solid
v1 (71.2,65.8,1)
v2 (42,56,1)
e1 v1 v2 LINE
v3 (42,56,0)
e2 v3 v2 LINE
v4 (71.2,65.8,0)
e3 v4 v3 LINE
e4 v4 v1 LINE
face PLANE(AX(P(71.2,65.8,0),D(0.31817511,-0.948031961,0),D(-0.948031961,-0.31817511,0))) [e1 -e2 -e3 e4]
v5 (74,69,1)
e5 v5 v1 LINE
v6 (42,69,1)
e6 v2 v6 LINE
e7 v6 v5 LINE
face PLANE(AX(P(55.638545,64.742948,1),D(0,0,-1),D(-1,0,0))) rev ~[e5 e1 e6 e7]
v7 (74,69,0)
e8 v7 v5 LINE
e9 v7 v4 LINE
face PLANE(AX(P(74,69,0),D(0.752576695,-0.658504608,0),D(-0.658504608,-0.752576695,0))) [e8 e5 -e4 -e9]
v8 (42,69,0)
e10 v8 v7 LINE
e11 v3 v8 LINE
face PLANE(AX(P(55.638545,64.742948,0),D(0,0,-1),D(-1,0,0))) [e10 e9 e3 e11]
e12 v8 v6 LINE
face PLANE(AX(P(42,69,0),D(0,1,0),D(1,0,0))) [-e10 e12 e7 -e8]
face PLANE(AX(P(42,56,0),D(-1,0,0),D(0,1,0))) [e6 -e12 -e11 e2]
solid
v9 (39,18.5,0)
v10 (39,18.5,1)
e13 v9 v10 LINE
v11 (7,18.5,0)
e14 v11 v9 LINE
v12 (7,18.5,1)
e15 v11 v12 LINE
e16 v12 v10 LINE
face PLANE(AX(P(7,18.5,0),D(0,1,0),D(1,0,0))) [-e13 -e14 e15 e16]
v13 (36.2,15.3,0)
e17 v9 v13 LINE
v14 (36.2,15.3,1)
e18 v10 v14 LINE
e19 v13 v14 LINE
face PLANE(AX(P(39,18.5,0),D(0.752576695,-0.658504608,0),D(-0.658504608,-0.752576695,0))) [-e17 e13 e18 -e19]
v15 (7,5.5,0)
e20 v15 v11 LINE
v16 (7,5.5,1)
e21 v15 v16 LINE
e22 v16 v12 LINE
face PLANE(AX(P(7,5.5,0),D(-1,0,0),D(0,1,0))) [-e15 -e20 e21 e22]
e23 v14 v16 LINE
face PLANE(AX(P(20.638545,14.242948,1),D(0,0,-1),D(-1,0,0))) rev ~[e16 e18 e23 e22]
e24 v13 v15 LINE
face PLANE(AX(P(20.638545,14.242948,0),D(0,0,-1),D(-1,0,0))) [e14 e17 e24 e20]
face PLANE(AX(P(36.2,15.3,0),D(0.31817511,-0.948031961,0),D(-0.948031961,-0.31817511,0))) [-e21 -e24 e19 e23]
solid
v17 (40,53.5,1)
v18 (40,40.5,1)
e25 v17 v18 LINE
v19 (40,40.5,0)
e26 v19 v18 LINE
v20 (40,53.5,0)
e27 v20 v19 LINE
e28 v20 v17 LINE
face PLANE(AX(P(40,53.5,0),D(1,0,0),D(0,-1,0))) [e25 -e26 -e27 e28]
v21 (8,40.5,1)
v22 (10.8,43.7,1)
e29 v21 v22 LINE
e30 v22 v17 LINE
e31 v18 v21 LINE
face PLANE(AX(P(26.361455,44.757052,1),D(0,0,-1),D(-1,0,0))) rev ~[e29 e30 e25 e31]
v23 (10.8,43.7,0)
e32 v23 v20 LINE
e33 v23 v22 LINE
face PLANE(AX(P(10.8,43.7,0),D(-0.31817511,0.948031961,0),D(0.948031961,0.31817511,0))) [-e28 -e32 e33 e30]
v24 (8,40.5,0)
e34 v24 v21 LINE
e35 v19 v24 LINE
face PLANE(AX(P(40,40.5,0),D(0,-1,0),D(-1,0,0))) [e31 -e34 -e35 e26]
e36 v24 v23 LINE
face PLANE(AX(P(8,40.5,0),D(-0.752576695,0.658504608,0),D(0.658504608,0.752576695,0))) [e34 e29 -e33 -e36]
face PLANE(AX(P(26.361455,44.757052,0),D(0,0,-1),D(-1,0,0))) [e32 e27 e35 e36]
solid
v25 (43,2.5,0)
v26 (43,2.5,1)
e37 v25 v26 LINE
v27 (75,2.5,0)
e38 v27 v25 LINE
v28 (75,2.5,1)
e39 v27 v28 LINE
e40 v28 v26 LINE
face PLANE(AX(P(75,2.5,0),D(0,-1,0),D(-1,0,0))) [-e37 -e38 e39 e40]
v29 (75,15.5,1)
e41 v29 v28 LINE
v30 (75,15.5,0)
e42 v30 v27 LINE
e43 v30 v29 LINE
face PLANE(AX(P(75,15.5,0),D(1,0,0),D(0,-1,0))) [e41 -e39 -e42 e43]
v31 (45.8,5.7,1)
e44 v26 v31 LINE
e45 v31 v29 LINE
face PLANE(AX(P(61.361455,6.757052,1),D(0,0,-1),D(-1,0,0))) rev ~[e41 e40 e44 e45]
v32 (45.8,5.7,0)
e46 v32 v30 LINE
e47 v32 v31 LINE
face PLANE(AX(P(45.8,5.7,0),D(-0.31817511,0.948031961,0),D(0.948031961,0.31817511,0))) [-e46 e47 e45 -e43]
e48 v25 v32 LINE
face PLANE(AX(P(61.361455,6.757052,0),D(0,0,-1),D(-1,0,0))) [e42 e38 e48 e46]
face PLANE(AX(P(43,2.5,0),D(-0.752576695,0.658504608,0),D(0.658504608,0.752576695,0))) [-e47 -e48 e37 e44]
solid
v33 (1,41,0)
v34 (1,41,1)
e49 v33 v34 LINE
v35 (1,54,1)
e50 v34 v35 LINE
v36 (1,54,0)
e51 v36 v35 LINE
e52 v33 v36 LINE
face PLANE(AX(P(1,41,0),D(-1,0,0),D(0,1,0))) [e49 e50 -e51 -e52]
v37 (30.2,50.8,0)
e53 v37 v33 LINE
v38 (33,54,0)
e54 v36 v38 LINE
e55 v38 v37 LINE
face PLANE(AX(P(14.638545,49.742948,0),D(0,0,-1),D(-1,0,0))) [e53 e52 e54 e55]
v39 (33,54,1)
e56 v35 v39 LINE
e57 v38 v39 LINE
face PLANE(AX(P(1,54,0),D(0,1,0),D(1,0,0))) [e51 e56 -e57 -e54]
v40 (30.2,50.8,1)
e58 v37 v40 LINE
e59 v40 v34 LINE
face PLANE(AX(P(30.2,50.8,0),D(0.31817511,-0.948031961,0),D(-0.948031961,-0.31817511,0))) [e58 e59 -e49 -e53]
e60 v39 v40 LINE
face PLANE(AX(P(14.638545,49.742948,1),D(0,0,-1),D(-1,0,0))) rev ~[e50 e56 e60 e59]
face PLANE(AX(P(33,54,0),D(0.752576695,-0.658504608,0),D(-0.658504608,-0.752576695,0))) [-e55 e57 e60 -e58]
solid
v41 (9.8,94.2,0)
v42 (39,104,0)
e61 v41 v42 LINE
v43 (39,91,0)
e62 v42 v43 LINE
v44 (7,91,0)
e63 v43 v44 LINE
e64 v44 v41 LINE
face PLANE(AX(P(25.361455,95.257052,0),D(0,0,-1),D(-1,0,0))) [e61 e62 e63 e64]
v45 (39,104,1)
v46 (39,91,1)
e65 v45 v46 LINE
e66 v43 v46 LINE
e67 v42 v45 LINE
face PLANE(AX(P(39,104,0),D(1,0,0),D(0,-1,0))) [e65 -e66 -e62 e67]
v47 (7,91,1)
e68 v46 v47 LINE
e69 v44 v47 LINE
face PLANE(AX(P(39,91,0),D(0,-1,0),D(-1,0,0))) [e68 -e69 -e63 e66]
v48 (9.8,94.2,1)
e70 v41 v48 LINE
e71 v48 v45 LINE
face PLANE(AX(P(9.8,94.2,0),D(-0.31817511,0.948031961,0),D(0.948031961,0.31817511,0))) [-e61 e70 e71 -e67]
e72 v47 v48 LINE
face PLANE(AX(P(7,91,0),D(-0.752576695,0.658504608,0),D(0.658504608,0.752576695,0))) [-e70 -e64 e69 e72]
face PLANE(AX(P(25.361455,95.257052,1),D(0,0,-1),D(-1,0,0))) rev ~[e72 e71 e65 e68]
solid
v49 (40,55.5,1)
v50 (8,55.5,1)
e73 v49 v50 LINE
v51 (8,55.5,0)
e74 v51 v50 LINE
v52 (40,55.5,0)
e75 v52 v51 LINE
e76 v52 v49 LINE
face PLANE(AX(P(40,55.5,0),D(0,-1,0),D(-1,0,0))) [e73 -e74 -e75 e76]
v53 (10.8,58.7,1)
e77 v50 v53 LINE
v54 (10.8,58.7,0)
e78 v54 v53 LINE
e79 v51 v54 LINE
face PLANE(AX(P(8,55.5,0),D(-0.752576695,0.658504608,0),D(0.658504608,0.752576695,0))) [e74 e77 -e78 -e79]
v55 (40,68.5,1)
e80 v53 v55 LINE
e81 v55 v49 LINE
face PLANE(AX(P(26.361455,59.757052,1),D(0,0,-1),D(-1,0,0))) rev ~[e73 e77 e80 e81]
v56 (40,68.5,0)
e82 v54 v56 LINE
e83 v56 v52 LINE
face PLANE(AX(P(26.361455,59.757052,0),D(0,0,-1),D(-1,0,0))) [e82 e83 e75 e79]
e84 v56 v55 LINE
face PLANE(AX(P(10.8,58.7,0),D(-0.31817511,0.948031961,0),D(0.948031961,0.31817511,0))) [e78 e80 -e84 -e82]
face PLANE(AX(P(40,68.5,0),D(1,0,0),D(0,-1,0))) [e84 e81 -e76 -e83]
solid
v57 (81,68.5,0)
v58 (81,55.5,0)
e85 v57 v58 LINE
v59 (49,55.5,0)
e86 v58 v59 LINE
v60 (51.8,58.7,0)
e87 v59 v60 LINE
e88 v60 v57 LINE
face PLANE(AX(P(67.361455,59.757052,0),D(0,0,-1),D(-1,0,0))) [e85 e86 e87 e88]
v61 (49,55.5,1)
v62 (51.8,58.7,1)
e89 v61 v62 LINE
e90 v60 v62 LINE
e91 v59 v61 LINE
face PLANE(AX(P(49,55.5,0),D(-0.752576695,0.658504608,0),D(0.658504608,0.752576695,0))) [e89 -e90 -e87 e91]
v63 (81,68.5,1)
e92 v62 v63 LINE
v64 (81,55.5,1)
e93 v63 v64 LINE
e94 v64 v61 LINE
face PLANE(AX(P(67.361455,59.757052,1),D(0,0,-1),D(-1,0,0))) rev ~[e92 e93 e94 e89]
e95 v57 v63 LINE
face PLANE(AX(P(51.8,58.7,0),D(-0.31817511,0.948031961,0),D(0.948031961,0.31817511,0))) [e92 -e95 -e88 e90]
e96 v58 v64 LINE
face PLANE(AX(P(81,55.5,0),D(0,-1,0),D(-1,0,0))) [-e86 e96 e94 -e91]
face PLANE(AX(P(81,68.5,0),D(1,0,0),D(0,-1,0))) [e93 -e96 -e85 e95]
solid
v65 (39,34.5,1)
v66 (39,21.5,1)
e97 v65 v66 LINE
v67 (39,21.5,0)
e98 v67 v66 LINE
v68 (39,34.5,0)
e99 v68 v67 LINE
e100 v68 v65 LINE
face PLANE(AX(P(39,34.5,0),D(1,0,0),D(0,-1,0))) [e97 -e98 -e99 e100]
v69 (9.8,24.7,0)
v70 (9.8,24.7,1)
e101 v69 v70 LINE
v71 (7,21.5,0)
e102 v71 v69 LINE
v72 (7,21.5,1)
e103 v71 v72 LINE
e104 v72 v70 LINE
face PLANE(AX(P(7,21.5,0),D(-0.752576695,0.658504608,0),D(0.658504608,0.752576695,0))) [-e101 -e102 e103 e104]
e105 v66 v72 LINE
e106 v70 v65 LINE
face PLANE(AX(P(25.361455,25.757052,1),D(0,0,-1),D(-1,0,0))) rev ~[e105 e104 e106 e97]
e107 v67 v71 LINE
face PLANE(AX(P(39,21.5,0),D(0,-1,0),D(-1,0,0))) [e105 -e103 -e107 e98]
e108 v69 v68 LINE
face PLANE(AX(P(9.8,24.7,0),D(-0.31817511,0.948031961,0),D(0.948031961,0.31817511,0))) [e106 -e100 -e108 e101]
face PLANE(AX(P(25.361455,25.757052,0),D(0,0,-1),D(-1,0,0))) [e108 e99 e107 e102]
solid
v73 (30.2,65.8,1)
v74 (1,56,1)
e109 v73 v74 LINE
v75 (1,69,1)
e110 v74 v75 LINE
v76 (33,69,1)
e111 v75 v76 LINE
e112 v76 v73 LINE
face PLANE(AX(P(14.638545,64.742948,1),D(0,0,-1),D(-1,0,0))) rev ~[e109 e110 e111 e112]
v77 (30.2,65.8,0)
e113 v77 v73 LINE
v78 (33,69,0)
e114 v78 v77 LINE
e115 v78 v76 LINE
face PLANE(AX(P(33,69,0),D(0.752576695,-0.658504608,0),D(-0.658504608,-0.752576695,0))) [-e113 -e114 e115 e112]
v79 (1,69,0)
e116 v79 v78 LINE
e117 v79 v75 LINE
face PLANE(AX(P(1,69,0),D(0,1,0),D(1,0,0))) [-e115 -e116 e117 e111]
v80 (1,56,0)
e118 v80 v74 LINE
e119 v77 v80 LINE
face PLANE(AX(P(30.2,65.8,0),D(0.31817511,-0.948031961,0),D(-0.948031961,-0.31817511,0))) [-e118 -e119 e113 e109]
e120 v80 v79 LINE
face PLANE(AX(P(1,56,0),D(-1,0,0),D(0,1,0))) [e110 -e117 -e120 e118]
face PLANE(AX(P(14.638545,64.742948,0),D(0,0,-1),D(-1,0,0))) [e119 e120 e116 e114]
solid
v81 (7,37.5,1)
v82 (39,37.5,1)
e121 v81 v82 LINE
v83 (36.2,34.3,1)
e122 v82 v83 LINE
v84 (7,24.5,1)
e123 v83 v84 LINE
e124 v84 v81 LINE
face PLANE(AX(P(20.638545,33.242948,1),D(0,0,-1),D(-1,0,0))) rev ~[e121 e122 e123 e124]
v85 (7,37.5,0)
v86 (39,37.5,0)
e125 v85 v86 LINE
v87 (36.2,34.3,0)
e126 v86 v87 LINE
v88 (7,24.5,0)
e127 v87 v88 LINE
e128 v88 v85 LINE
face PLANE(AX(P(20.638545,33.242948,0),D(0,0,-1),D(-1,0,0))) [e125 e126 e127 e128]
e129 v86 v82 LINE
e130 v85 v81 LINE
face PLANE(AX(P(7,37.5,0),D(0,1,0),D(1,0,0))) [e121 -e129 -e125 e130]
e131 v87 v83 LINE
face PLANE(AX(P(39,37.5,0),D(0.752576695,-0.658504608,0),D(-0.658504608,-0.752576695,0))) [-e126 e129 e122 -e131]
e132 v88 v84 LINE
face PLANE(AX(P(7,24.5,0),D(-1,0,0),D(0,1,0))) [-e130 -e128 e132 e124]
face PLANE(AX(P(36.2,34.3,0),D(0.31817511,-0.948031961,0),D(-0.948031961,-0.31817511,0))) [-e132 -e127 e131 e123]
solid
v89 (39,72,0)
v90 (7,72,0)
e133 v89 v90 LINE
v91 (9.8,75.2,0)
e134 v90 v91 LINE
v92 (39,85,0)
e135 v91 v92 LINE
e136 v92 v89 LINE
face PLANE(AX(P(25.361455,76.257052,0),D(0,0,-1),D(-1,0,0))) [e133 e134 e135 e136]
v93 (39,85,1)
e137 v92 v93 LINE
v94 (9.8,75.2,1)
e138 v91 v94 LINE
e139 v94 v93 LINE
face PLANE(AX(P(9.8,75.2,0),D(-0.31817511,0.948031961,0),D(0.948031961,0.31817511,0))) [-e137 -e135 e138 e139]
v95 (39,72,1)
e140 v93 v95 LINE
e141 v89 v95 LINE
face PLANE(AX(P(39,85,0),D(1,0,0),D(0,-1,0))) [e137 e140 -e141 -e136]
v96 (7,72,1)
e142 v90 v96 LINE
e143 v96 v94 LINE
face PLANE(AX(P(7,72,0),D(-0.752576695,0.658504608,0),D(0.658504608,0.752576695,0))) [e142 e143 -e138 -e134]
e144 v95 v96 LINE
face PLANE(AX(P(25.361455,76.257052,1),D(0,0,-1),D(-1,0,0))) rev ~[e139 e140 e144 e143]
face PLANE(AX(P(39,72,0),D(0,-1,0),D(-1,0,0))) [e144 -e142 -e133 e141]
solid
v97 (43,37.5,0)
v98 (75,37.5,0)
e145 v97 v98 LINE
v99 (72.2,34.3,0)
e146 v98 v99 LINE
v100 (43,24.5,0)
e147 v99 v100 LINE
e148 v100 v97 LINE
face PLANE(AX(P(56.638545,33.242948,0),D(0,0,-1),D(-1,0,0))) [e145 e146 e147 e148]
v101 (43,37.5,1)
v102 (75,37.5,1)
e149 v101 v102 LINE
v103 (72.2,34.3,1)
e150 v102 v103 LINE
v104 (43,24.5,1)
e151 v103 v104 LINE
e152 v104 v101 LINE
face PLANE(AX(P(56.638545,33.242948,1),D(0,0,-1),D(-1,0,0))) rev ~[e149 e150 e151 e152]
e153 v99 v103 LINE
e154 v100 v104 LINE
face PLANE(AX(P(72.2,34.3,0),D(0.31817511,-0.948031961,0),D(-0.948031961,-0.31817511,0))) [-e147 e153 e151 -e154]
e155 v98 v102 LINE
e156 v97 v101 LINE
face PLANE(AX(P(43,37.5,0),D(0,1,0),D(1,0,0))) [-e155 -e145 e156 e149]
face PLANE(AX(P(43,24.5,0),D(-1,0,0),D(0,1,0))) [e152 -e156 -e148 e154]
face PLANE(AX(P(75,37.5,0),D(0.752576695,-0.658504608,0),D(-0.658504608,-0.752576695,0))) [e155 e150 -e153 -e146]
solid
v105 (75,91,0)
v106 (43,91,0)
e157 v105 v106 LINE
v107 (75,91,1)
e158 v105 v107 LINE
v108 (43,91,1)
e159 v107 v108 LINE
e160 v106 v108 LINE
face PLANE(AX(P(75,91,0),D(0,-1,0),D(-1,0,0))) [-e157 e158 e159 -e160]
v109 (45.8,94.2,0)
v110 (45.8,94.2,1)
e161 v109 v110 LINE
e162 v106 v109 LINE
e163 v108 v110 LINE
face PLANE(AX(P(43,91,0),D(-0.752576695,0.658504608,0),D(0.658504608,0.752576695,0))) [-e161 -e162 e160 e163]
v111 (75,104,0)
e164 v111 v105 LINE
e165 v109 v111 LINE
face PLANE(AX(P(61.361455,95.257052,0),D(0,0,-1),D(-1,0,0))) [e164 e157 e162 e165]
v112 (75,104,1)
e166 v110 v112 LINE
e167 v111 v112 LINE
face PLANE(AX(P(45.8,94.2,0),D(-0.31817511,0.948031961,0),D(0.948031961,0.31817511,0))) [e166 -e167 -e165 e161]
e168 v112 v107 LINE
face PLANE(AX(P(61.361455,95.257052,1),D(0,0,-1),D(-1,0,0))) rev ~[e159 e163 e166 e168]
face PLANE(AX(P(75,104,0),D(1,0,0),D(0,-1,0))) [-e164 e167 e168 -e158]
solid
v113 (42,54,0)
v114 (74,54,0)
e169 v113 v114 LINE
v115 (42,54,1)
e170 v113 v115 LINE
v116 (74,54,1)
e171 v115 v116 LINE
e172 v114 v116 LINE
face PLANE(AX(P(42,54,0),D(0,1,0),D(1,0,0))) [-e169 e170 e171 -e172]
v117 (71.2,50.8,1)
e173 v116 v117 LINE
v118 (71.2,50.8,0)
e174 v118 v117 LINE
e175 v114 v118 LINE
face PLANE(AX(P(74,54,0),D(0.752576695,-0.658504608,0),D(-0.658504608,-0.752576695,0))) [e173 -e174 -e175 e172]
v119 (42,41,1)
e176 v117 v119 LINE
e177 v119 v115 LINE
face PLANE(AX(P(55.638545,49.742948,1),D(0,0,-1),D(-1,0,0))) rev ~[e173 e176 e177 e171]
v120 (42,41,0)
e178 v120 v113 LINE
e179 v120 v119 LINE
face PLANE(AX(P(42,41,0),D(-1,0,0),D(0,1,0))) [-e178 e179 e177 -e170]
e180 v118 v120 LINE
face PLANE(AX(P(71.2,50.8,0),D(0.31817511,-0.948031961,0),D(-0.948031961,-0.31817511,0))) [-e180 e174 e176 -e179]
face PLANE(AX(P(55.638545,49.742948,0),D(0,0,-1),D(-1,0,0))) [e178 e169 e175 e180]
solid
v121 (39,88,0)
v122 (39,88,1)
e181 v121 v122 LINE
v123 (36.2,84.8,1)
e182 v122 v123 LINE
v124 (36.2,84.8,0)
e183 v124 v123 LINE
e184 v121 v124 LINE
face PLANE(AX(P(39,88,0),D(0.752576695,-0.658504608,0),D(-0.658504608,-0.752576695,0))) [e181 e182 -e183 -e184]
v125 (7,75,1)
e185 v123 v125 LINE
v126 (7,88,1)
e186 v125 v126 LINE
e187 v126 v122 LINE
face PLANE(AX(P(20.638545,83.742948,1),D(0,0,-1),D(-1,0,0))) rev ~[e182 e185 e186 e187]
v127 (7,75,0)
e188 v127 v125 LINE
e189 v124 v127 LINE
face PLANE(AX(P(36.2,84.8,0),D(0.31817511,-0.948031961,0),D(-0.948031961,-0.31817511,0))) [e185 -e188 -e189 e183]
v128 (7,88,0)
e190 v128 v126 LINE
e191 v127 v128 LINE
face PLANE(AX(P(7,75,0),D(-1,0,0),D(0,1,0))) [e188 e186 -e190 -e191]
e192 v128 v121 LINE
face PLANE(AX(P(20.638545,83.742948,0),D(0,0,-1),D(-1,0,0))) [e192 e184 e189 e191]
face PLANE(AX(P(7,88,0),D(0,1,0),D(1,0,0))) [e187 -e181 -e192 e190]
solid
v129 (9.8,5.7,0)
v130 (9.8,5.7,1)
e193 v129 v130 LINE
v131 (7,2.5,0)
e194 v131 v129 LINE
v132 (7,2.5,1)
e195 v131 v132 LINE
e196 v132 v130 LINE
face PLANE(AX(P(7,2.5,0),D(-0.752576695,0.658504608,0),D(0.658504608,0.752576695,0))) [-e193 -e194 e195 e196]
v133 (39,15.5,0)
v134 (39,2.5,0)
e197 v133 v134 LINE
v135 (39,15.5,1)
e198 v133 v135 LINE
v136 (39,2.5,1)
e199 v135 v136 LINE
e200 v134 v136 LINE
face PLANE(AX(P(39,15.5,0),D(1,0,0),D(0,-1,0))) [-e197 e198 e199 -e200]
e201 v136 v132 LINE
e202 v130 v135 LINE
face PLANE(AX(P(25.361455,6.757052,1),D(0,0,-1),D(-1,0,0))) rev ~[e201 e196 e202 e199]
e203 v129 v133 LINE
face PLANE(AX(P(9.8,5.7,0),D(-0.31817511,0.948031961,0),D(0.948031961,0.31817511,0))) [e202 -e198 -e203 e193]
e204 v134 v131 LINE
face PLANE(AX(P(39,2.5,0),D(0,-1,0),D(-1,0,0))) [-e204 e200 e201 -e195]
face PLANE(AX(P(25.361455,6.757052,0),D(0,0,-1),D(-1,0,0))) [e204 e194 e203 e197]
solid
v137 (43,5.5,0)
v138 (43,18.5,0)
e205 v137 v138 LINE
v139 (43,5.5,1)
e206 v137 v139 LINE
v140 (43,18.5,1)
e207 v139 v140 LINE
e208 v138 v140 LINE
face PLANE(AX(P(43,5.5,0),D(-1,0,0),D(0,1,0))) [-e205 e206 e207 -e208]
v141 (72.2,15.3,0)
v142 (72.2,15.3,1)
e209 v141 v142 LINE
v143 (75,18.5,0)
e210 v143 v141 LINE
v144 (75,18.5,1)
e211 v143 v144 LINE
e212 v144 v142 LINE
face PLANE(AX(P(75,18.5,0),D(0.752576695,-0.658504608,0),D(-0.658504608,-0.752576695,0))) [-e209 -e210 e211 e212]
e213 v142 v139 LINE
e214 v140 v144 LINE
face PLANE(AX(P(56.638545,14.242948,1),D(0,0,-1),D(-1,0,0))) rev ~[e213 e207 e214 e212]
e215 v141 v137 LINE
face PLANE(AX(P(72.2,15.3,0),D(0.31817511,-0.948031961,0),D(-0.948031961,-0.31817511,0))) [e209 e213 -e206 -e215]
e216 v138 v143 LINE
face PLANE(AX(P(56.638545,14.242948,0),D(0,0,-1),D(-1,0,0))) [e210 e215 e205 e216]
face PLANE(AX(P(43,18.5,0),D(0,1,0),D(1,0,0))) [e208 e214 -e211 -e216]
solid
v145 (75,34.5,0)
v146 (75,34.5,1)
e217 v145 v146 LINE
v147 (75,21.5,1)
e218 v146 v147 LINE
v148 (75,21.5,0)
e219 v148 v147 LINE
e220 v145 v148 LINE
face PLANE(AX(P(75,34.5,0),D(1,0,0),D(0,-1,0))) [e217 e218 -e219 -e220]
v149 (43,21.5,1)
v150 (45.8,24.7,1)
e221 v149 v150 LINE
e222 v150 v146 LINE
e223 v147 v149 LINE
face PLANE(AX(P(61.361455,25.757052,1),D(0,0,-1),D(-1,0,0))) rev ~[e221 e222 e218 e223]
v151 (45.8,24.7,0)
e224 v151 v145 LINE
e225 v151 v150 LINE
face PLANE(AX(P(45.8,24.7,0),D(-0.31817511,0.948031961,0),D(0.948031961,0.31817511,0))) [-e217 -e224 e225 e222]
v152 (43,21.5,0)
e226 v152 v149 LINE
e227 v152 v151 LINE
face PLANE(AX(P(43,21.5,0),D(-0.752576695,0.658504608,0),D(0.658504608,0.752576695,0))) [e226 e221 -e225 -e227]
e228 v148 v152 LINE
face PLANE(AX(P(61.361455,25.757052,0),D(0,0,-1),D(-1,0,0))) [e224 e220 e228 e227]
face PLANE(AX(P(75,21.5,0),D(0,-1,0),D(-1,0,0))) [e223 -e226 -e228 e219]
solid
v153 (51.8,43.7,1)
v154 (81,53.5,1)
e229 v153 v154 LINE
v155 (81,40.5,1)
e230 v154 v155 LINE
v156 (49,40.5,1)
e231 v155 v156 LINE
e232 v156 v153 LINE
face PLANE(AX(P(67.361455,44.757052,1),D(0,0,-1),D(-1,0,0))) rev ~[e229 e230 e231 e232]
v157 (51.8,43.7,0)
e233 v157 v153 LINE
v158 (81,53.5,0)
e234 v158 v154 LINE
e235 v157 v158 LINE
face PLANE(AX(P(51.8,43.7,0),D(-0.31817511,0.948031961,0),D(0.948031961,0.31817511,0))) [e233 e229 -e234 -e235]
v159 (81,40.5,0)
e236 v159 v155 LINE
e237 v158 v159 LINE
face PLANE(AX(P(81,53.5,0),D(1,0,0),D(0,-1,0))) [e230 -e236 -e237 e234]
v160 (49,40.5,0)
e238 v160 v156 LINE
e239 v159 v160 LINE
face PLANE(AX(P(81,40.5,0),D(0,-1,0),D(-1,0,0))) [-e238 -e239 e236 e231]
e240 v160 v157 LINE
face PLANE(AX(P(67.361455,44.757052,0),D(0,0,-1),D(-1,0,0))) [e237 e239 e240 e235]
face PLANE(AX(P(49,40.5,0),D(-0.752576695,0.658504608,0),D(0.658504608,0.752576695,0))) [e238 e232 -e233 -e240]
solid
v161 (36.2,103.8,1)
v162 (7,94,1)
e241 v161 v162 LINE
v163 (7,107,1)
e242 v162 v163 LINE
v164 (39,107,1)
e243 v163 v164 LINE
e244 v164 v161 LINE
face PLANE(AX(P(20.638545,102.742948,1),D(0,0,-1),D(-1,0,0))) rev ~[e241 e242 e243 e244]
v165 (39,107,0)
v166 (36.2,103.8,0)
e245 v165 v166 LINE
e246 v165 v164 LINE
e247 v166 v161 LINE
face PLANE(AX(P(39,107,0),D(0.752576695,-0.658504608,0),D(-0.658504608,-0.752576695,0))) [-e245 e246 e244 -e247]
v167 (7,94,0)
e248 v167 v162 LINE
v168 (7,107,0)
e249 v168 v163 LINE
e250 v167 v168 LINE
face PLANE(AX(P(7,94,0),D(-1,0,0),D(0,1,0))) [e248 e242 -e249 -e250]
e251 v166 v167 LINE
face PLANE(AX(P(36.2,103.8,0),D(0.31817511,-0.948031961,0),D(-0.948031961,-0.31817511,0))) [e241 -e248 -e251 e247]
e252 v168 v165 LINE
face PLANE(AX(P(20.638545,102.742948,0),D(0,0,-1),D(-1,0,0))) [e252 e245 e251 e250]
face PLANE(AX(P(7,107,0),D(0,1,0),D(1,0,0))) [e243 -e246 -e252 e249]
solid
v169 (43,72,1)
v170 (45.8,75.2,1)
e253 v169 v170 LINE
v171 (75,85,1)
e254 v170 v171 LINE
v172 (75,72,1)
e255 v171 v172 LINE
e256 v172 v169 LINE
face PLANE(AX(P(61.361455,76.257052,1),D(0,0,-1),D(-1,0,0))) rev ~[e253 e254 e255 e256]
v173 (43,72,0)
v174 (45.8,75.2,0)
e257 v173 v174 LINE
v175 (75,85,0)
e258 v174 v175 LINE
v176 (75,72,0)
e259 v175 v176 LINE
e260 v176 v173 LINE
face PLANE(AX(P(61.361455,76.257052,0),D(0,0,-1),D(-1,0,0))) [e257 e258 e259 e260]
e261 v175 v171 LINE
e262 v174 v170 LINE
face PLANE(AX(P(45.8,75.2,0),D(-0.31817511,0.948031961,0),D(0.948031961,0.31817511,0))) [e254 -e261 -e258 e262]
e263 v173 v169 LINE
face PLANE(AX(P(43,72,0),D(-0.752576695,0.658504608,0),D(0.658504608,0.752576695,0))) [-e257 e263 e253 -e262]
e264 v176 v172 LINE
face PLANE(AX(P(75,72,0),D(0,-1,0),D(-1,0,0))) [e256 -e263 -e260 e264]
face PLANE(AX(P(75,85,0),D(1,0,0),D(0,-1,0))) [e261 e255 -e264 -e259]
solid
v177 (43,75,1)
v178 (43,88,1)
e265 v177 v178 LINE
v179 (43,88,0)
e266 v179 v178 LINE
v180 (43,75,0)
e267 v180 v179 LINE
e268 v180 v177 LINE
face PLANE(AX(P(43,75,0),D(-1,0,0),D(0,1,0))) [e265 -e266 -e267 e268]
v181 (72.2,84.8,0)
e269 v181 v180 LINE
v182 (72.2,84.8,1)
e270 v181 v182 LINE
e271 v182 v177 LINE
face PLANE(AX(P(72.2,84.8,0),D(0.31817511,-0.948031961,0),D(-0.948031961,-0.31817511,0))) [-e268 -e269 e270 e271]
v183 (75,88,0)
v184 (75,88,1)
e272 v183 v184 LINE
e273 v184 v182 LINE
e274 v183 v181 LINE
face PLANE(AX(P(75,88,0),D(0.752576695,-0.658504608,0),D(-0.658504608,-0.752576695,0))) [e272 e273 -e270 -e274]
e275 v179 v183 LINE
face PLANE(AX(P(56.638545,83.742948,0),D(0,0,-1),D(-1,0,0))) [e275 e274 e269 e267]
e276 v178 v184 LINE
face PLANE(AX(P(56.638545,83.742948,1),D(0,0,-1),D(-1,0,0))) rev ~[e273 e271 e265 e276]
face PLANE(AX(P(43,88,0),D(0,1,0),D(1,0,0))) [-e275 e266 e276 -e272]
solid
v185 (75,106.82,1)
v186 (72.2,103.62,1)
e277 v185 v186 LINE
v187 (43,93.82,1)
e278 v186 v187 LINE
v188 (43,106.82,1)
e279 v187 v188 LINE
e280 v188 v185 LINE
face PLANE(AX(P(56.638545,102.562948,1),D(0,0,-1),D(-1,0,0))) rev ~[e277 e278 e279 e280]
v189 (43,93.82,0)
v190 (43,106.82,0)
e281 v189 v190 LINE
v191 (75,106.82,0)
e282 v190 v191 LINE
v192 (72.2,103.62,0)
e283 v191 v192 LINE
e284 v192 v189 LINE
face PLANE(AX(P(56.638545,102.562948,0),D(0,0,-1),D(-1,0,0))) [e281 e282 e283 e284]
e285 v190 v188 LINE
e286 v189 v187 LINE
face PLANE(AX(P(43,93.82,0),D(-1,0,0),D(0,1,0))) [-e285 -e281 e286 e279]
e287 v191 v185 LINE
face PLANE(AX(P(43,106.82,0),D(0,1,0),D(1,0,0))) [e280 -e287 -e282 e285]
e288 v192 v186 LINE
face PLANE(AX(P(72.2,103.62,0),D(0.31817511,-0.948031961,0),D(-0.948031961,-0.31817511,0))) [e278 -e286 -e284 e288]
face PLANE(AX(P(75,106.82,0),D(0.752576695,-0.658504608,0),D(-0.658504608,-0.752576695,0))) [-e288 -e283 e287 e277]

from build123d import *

# Parameters (mm, degrees)
BOSS_EXTRUDE1_DEPTH    = 1
BOSS_EXTRUDE1_2_DEPTH  = 1
BOSS_EXTRUDE1_3_DEPTH  = 1
BOSS_EXTRUDE1_4_DEPTH  = 1
BOSS_EXTRUDE1_5_DEPTH  = 1
BOSS_EXTRUDE1_6_DEPTH  = 1
BOSS_EXTRUDE1_7_DEPTH  = 1
BOSS_EXTRUDE1_8_DEPTH  = 1
BOSS_EXTRUDE1_9_DEPTH  = 1
BOSS_EXTRUDE1_10_DEPTH = 1
BOSS_EXTRUDE1_11_DEPTH = 1
BOSS_EXTRUDE1_12_DEPTH = 1
BOSS_EXTRUDE1_13_DEPTH = 1
BOSS_EXTRUDE1_14_DEPTH = 1
BOSS_EXTRUDE1_15_DEPTH = 1
BOSS_EXTRUDE1_16_DEPTH = 1
BOSS_EXTRUDE1_17_DEPTH = 1
BOSS_EXTRUDE1_18_DEPTH = 1
BOSS_EXTRUDE1_19_DEPTH = 1
BOSS_EXTRUDE1_20_DEPTH = 1
BOSS_EXTRUDE1_21_DEPTH = 1
BOSS_EXTRUDE1_22_DEPTH = 1
BOSS_EXTRUDE1_23_DEPTH = 1
BOSS_EXTRUDE1_24_DEPTH = 1


with BuildPart() as part:
    # Sketch 21 → Boss-Extrude1 (new body)
    with BuildSketch(Plane.XY):
        Polygon((39, 2.5), (7, 2.5), (9.8, 5.7), (39, 15.5), align=None)
    extrude(amount=BOSS_EXTRUDE1_DEPTH)


with BuildPart() as body_2:
    # Sketch 21 → Boss-Extrude1 2 (new body)
    with BuildSketch(Plane.XY):
        Polygon((7, 18.5), (39, 18.5), (36.2, 15.3), (7, 5.5), align=None)
    extrude(amount=BOSS_EXTRUDE1_2_DEPTH)


with BuildPart() as body_3:
    # Sketch 21 → Boss-Extrude1 3 (new body)
    with BuildSketch(Plane.XY):
        Polygon((43, 18.5), (75, 18.5), (72.2, 15.3), (43, 5.5), align=None)
    extrude(amount=BOSS_EXTRUDE1_3_DEPTH)


with BuildPart() as body_4:
    # Sketch 21 → Boss-Extrude1 4 (new body)
    with BuildSketch(Plane.XY):
        Polygon((75, 2.5), (43, 2.5), (45.8, 5.7), (75, 15.5), align=None)
    extrude(amount=BOSS_EXTRUDE1_4_DEPTH)


with BuildPart() as body_5:
    # Sketch 21 → Boss-Extrude1 5 (new body)
    with BuildSketch(Plane.XY):
        Polygon((39, 21.5), (7, 21.5), (9.8, 24.7), (39, 34.5), align=None)
    extrude(amount=BOSS_EXTRUDE1_5_DEPTH)


with BuildPart() as body_6:
    # Sketch 21 → Boss-Extrude1 6 (new body)
    with BuildSketch(Plane.XY):
        Polygon((7, 37.5), (39, 37.5), (36.2, 34.3), (7, 24.5), align=None)
    extrude(amount=BOSS_EXTRUDE1_6_DEPTH)


with BuildPart() as body_7:
    # Sketch 21 → Boss-Extrude1 7 (new body)
    with BuildSketch(Plane.XY):
        Polygon((43, 37.5), (75, 37.5), (72.2, 34.3), (43, 24.5), align=None)
    extrude(amount=BOSS_EXTRUDE1_7_DEPTH)


with BuildPart() as body_8:
    # Sketch 21 → Boss-Extrude1 8 (new body)
    with BuildSketch(Plane.XY):
        Polygon((75, 21.5), (43, 21.5), (45.8, 24.7), (75, 34.5), align=None)
    extrude(amount=BOSS_EXTRUDE1_8_DEPTH)


with BuildPart() as body_9:
    # Sketch 21 → Boss-Extrude1 9 (new body)
    with BuildSketch(Plane.XY):
        Polygon((40, 40.5), (8, 40.5), (10.8, 43.7), (40, 53.5), align=None)
    extrude(amount=BOSS_EXTRUDE1_9_DEPTH)


with BuildPart() as body_10:
    # Sketch 21 → Boss-Extrude1 10 (new body)
    with BuildSketch(Plane.XY):
        Polygon((1, 54), (33, 54), (30.2, 50.8), (1, 41), align=None)
    extrude(amount=BOSS_EXTRUDE1_10_DEPTH)


with BuildPart() as body_11:
    # Sketch 21 → Boss-Extrude1 11 (new body)
    with BuildSketch(Plane.XY):
        Polygon((42, 54), (74, 54), (71.2, 50.8), (42, 41), align=None)
    extrude(amount=BOSS_EXTRUDE1_11_DEPTH)


with BuildPart() as body_12:
    # Sketch 21 → Boss-Extrude1 12 (new body)
    with BuildSketch(Plane.XY):
        Polygon((81, 40.5), (49, 40.5), (51.8, 43.7), (81, 53.5), align=None)
    extrude(amount=BOSS_EXTRUDE1_12_DEPTH)


with BuildPart() as body_13:
    # Sketch 21 → Boss-Extrude1 13 (new body)
    with BuildSketch(Plane.XY):
        Polygon((40, 55.5), (8, 55.5), (10.8, 58.7), (40, 68.5), align=None)
    extrude(amount=BOSS_EXTRUDE1_13_DEPTH)


with BuildPart() as body_14:
    # Sketch 21 → Boss-Extrude1 14 (new body)
    with BuildSketch(Plane.XY):
        Polygon((1, 69), (33, 69), (30.2, 65.8), (1, 56), align=None)
    extrude(amount=BOSS_EXTRUDE1_14_DEPTH)


with BuildPart() as body_15:
    # Sketch 21 → Boss-Extrude1 15 (new body)
    with BuildSketch(Plane.XY):
        Polygon((42, 69), (74, 69), (71.2, 65.8), (42, 56), align=None)
    extrude(amount=BOSS_EXTRUDE1_15_DEPTH)


with BuildPart() as body_16:
    # Sketch 21 → Boss-Extrude1 16 (new body)
    with BuildSketch(Plane.XY):
        Polygon((81, 55.5), (49, 55.5), (51.8, 58.7), (81, 68.5), align=None)
    extrude(amount=BOSS_EXTRUDE1_16_DEPTH)


with BuildPart() as body_17:
    # Sketch 21 → Boss-Extrude1 17 (new body)
    with BuildSketch(Plane.XY):
        Polygon((39, 72), (7, 72), (9.8, 75.2), (39, 85), align=None)
    extrude(amount=BOSS_EXTRUDE1_17_DEPTH)


with BuildPart() as body_18:
    # Sketch 21 → Boss-Extrude1 18 (new body)
    with BuildSketch(Plane.XY):
        Polygon((7, 88), (39, 88), (36.2, 84.8), (7, 75), align=None)
    extrude(amount=BOSS_EXTRUDE1_18_DEPTH)


with BuildPart() as body_19:
    # Sketch 21 → Boss-Extrude1 19 (new body)
    with BuildSketch(Plane.XY):
        Polygon((43, 88), (75, 88), (72.2, 84.8), (43, 75), align=None)
    extrude(amount=BOSS_EXTRUDE1_19_DEPTH)


with BuildPart() as body_20:
    # Sketch 21 → Boss-Extrude1 20 (new body)
    with BuildSketch(Plane.XY):
        Polygon((75, 72), (43, 72), (45.8, 75.2), (75, 85), align=None)
    extrude(amount=BOSS_EXTRUDE1_20_DEPTH)


with BuildPart() as body_21:
    # Sketch 21 → Boss-Extrude1 21 (new body)
    with BuildSketch(Plane.XY):
        Polygon((39, 91), (7, 91), (9.8, 94.2), (39, 104), align=None)
    extrude(amount=BOSS_EXTRUDE1_21_DEPTH)


with BuildPart() as body_22:
    # Sketch 21 → Boss-Extrude1 22 (new body)
    with BuildSketch(Plane.XY):
        Polygon((7, 107), (39, 107), (36.2, 103.8), (7, 94), align=None)
    extrude(amount=BOSS_EXTRUDE1_22_DEPTH)


with BuildPart() as body_23:
    # Sketch 21 → Boss-Extrude1 23 (new body)
    with BuildSketch(Plane.XY):
        Polygon((43, 106.82), (75, 106.82), (72.2, 103.62), (43, 93.82), align=None)
    extrude(amount=BOSS_EXTRUDE1_23_DEPTH)


with BuildPart() as body_24:
    # Sketch 21 → Boss-Extrude1 24 (new body)
    with BuildSketch(Plane.XY):
        Polygon((75, 91), (43, 91), (45.8, 94.2), (75, 104), align=None)
    extrude(amount=BOSS_EXTRUDE1_24_DEPTH)


solid = Compound([part.part, body_2.part, body_3.part, body_4.part, body_5.part, body_6.part, body_7.part, body_8.part, body_9.part, body_10.part, body_11.part, body_12.part, body_13.part, body_14.part, body_15.part, body_16.part, body_17.part, body_18.part, body_19.part, body_20.part, body_21.part, body_22.part, body_23.part, body_24.part])
